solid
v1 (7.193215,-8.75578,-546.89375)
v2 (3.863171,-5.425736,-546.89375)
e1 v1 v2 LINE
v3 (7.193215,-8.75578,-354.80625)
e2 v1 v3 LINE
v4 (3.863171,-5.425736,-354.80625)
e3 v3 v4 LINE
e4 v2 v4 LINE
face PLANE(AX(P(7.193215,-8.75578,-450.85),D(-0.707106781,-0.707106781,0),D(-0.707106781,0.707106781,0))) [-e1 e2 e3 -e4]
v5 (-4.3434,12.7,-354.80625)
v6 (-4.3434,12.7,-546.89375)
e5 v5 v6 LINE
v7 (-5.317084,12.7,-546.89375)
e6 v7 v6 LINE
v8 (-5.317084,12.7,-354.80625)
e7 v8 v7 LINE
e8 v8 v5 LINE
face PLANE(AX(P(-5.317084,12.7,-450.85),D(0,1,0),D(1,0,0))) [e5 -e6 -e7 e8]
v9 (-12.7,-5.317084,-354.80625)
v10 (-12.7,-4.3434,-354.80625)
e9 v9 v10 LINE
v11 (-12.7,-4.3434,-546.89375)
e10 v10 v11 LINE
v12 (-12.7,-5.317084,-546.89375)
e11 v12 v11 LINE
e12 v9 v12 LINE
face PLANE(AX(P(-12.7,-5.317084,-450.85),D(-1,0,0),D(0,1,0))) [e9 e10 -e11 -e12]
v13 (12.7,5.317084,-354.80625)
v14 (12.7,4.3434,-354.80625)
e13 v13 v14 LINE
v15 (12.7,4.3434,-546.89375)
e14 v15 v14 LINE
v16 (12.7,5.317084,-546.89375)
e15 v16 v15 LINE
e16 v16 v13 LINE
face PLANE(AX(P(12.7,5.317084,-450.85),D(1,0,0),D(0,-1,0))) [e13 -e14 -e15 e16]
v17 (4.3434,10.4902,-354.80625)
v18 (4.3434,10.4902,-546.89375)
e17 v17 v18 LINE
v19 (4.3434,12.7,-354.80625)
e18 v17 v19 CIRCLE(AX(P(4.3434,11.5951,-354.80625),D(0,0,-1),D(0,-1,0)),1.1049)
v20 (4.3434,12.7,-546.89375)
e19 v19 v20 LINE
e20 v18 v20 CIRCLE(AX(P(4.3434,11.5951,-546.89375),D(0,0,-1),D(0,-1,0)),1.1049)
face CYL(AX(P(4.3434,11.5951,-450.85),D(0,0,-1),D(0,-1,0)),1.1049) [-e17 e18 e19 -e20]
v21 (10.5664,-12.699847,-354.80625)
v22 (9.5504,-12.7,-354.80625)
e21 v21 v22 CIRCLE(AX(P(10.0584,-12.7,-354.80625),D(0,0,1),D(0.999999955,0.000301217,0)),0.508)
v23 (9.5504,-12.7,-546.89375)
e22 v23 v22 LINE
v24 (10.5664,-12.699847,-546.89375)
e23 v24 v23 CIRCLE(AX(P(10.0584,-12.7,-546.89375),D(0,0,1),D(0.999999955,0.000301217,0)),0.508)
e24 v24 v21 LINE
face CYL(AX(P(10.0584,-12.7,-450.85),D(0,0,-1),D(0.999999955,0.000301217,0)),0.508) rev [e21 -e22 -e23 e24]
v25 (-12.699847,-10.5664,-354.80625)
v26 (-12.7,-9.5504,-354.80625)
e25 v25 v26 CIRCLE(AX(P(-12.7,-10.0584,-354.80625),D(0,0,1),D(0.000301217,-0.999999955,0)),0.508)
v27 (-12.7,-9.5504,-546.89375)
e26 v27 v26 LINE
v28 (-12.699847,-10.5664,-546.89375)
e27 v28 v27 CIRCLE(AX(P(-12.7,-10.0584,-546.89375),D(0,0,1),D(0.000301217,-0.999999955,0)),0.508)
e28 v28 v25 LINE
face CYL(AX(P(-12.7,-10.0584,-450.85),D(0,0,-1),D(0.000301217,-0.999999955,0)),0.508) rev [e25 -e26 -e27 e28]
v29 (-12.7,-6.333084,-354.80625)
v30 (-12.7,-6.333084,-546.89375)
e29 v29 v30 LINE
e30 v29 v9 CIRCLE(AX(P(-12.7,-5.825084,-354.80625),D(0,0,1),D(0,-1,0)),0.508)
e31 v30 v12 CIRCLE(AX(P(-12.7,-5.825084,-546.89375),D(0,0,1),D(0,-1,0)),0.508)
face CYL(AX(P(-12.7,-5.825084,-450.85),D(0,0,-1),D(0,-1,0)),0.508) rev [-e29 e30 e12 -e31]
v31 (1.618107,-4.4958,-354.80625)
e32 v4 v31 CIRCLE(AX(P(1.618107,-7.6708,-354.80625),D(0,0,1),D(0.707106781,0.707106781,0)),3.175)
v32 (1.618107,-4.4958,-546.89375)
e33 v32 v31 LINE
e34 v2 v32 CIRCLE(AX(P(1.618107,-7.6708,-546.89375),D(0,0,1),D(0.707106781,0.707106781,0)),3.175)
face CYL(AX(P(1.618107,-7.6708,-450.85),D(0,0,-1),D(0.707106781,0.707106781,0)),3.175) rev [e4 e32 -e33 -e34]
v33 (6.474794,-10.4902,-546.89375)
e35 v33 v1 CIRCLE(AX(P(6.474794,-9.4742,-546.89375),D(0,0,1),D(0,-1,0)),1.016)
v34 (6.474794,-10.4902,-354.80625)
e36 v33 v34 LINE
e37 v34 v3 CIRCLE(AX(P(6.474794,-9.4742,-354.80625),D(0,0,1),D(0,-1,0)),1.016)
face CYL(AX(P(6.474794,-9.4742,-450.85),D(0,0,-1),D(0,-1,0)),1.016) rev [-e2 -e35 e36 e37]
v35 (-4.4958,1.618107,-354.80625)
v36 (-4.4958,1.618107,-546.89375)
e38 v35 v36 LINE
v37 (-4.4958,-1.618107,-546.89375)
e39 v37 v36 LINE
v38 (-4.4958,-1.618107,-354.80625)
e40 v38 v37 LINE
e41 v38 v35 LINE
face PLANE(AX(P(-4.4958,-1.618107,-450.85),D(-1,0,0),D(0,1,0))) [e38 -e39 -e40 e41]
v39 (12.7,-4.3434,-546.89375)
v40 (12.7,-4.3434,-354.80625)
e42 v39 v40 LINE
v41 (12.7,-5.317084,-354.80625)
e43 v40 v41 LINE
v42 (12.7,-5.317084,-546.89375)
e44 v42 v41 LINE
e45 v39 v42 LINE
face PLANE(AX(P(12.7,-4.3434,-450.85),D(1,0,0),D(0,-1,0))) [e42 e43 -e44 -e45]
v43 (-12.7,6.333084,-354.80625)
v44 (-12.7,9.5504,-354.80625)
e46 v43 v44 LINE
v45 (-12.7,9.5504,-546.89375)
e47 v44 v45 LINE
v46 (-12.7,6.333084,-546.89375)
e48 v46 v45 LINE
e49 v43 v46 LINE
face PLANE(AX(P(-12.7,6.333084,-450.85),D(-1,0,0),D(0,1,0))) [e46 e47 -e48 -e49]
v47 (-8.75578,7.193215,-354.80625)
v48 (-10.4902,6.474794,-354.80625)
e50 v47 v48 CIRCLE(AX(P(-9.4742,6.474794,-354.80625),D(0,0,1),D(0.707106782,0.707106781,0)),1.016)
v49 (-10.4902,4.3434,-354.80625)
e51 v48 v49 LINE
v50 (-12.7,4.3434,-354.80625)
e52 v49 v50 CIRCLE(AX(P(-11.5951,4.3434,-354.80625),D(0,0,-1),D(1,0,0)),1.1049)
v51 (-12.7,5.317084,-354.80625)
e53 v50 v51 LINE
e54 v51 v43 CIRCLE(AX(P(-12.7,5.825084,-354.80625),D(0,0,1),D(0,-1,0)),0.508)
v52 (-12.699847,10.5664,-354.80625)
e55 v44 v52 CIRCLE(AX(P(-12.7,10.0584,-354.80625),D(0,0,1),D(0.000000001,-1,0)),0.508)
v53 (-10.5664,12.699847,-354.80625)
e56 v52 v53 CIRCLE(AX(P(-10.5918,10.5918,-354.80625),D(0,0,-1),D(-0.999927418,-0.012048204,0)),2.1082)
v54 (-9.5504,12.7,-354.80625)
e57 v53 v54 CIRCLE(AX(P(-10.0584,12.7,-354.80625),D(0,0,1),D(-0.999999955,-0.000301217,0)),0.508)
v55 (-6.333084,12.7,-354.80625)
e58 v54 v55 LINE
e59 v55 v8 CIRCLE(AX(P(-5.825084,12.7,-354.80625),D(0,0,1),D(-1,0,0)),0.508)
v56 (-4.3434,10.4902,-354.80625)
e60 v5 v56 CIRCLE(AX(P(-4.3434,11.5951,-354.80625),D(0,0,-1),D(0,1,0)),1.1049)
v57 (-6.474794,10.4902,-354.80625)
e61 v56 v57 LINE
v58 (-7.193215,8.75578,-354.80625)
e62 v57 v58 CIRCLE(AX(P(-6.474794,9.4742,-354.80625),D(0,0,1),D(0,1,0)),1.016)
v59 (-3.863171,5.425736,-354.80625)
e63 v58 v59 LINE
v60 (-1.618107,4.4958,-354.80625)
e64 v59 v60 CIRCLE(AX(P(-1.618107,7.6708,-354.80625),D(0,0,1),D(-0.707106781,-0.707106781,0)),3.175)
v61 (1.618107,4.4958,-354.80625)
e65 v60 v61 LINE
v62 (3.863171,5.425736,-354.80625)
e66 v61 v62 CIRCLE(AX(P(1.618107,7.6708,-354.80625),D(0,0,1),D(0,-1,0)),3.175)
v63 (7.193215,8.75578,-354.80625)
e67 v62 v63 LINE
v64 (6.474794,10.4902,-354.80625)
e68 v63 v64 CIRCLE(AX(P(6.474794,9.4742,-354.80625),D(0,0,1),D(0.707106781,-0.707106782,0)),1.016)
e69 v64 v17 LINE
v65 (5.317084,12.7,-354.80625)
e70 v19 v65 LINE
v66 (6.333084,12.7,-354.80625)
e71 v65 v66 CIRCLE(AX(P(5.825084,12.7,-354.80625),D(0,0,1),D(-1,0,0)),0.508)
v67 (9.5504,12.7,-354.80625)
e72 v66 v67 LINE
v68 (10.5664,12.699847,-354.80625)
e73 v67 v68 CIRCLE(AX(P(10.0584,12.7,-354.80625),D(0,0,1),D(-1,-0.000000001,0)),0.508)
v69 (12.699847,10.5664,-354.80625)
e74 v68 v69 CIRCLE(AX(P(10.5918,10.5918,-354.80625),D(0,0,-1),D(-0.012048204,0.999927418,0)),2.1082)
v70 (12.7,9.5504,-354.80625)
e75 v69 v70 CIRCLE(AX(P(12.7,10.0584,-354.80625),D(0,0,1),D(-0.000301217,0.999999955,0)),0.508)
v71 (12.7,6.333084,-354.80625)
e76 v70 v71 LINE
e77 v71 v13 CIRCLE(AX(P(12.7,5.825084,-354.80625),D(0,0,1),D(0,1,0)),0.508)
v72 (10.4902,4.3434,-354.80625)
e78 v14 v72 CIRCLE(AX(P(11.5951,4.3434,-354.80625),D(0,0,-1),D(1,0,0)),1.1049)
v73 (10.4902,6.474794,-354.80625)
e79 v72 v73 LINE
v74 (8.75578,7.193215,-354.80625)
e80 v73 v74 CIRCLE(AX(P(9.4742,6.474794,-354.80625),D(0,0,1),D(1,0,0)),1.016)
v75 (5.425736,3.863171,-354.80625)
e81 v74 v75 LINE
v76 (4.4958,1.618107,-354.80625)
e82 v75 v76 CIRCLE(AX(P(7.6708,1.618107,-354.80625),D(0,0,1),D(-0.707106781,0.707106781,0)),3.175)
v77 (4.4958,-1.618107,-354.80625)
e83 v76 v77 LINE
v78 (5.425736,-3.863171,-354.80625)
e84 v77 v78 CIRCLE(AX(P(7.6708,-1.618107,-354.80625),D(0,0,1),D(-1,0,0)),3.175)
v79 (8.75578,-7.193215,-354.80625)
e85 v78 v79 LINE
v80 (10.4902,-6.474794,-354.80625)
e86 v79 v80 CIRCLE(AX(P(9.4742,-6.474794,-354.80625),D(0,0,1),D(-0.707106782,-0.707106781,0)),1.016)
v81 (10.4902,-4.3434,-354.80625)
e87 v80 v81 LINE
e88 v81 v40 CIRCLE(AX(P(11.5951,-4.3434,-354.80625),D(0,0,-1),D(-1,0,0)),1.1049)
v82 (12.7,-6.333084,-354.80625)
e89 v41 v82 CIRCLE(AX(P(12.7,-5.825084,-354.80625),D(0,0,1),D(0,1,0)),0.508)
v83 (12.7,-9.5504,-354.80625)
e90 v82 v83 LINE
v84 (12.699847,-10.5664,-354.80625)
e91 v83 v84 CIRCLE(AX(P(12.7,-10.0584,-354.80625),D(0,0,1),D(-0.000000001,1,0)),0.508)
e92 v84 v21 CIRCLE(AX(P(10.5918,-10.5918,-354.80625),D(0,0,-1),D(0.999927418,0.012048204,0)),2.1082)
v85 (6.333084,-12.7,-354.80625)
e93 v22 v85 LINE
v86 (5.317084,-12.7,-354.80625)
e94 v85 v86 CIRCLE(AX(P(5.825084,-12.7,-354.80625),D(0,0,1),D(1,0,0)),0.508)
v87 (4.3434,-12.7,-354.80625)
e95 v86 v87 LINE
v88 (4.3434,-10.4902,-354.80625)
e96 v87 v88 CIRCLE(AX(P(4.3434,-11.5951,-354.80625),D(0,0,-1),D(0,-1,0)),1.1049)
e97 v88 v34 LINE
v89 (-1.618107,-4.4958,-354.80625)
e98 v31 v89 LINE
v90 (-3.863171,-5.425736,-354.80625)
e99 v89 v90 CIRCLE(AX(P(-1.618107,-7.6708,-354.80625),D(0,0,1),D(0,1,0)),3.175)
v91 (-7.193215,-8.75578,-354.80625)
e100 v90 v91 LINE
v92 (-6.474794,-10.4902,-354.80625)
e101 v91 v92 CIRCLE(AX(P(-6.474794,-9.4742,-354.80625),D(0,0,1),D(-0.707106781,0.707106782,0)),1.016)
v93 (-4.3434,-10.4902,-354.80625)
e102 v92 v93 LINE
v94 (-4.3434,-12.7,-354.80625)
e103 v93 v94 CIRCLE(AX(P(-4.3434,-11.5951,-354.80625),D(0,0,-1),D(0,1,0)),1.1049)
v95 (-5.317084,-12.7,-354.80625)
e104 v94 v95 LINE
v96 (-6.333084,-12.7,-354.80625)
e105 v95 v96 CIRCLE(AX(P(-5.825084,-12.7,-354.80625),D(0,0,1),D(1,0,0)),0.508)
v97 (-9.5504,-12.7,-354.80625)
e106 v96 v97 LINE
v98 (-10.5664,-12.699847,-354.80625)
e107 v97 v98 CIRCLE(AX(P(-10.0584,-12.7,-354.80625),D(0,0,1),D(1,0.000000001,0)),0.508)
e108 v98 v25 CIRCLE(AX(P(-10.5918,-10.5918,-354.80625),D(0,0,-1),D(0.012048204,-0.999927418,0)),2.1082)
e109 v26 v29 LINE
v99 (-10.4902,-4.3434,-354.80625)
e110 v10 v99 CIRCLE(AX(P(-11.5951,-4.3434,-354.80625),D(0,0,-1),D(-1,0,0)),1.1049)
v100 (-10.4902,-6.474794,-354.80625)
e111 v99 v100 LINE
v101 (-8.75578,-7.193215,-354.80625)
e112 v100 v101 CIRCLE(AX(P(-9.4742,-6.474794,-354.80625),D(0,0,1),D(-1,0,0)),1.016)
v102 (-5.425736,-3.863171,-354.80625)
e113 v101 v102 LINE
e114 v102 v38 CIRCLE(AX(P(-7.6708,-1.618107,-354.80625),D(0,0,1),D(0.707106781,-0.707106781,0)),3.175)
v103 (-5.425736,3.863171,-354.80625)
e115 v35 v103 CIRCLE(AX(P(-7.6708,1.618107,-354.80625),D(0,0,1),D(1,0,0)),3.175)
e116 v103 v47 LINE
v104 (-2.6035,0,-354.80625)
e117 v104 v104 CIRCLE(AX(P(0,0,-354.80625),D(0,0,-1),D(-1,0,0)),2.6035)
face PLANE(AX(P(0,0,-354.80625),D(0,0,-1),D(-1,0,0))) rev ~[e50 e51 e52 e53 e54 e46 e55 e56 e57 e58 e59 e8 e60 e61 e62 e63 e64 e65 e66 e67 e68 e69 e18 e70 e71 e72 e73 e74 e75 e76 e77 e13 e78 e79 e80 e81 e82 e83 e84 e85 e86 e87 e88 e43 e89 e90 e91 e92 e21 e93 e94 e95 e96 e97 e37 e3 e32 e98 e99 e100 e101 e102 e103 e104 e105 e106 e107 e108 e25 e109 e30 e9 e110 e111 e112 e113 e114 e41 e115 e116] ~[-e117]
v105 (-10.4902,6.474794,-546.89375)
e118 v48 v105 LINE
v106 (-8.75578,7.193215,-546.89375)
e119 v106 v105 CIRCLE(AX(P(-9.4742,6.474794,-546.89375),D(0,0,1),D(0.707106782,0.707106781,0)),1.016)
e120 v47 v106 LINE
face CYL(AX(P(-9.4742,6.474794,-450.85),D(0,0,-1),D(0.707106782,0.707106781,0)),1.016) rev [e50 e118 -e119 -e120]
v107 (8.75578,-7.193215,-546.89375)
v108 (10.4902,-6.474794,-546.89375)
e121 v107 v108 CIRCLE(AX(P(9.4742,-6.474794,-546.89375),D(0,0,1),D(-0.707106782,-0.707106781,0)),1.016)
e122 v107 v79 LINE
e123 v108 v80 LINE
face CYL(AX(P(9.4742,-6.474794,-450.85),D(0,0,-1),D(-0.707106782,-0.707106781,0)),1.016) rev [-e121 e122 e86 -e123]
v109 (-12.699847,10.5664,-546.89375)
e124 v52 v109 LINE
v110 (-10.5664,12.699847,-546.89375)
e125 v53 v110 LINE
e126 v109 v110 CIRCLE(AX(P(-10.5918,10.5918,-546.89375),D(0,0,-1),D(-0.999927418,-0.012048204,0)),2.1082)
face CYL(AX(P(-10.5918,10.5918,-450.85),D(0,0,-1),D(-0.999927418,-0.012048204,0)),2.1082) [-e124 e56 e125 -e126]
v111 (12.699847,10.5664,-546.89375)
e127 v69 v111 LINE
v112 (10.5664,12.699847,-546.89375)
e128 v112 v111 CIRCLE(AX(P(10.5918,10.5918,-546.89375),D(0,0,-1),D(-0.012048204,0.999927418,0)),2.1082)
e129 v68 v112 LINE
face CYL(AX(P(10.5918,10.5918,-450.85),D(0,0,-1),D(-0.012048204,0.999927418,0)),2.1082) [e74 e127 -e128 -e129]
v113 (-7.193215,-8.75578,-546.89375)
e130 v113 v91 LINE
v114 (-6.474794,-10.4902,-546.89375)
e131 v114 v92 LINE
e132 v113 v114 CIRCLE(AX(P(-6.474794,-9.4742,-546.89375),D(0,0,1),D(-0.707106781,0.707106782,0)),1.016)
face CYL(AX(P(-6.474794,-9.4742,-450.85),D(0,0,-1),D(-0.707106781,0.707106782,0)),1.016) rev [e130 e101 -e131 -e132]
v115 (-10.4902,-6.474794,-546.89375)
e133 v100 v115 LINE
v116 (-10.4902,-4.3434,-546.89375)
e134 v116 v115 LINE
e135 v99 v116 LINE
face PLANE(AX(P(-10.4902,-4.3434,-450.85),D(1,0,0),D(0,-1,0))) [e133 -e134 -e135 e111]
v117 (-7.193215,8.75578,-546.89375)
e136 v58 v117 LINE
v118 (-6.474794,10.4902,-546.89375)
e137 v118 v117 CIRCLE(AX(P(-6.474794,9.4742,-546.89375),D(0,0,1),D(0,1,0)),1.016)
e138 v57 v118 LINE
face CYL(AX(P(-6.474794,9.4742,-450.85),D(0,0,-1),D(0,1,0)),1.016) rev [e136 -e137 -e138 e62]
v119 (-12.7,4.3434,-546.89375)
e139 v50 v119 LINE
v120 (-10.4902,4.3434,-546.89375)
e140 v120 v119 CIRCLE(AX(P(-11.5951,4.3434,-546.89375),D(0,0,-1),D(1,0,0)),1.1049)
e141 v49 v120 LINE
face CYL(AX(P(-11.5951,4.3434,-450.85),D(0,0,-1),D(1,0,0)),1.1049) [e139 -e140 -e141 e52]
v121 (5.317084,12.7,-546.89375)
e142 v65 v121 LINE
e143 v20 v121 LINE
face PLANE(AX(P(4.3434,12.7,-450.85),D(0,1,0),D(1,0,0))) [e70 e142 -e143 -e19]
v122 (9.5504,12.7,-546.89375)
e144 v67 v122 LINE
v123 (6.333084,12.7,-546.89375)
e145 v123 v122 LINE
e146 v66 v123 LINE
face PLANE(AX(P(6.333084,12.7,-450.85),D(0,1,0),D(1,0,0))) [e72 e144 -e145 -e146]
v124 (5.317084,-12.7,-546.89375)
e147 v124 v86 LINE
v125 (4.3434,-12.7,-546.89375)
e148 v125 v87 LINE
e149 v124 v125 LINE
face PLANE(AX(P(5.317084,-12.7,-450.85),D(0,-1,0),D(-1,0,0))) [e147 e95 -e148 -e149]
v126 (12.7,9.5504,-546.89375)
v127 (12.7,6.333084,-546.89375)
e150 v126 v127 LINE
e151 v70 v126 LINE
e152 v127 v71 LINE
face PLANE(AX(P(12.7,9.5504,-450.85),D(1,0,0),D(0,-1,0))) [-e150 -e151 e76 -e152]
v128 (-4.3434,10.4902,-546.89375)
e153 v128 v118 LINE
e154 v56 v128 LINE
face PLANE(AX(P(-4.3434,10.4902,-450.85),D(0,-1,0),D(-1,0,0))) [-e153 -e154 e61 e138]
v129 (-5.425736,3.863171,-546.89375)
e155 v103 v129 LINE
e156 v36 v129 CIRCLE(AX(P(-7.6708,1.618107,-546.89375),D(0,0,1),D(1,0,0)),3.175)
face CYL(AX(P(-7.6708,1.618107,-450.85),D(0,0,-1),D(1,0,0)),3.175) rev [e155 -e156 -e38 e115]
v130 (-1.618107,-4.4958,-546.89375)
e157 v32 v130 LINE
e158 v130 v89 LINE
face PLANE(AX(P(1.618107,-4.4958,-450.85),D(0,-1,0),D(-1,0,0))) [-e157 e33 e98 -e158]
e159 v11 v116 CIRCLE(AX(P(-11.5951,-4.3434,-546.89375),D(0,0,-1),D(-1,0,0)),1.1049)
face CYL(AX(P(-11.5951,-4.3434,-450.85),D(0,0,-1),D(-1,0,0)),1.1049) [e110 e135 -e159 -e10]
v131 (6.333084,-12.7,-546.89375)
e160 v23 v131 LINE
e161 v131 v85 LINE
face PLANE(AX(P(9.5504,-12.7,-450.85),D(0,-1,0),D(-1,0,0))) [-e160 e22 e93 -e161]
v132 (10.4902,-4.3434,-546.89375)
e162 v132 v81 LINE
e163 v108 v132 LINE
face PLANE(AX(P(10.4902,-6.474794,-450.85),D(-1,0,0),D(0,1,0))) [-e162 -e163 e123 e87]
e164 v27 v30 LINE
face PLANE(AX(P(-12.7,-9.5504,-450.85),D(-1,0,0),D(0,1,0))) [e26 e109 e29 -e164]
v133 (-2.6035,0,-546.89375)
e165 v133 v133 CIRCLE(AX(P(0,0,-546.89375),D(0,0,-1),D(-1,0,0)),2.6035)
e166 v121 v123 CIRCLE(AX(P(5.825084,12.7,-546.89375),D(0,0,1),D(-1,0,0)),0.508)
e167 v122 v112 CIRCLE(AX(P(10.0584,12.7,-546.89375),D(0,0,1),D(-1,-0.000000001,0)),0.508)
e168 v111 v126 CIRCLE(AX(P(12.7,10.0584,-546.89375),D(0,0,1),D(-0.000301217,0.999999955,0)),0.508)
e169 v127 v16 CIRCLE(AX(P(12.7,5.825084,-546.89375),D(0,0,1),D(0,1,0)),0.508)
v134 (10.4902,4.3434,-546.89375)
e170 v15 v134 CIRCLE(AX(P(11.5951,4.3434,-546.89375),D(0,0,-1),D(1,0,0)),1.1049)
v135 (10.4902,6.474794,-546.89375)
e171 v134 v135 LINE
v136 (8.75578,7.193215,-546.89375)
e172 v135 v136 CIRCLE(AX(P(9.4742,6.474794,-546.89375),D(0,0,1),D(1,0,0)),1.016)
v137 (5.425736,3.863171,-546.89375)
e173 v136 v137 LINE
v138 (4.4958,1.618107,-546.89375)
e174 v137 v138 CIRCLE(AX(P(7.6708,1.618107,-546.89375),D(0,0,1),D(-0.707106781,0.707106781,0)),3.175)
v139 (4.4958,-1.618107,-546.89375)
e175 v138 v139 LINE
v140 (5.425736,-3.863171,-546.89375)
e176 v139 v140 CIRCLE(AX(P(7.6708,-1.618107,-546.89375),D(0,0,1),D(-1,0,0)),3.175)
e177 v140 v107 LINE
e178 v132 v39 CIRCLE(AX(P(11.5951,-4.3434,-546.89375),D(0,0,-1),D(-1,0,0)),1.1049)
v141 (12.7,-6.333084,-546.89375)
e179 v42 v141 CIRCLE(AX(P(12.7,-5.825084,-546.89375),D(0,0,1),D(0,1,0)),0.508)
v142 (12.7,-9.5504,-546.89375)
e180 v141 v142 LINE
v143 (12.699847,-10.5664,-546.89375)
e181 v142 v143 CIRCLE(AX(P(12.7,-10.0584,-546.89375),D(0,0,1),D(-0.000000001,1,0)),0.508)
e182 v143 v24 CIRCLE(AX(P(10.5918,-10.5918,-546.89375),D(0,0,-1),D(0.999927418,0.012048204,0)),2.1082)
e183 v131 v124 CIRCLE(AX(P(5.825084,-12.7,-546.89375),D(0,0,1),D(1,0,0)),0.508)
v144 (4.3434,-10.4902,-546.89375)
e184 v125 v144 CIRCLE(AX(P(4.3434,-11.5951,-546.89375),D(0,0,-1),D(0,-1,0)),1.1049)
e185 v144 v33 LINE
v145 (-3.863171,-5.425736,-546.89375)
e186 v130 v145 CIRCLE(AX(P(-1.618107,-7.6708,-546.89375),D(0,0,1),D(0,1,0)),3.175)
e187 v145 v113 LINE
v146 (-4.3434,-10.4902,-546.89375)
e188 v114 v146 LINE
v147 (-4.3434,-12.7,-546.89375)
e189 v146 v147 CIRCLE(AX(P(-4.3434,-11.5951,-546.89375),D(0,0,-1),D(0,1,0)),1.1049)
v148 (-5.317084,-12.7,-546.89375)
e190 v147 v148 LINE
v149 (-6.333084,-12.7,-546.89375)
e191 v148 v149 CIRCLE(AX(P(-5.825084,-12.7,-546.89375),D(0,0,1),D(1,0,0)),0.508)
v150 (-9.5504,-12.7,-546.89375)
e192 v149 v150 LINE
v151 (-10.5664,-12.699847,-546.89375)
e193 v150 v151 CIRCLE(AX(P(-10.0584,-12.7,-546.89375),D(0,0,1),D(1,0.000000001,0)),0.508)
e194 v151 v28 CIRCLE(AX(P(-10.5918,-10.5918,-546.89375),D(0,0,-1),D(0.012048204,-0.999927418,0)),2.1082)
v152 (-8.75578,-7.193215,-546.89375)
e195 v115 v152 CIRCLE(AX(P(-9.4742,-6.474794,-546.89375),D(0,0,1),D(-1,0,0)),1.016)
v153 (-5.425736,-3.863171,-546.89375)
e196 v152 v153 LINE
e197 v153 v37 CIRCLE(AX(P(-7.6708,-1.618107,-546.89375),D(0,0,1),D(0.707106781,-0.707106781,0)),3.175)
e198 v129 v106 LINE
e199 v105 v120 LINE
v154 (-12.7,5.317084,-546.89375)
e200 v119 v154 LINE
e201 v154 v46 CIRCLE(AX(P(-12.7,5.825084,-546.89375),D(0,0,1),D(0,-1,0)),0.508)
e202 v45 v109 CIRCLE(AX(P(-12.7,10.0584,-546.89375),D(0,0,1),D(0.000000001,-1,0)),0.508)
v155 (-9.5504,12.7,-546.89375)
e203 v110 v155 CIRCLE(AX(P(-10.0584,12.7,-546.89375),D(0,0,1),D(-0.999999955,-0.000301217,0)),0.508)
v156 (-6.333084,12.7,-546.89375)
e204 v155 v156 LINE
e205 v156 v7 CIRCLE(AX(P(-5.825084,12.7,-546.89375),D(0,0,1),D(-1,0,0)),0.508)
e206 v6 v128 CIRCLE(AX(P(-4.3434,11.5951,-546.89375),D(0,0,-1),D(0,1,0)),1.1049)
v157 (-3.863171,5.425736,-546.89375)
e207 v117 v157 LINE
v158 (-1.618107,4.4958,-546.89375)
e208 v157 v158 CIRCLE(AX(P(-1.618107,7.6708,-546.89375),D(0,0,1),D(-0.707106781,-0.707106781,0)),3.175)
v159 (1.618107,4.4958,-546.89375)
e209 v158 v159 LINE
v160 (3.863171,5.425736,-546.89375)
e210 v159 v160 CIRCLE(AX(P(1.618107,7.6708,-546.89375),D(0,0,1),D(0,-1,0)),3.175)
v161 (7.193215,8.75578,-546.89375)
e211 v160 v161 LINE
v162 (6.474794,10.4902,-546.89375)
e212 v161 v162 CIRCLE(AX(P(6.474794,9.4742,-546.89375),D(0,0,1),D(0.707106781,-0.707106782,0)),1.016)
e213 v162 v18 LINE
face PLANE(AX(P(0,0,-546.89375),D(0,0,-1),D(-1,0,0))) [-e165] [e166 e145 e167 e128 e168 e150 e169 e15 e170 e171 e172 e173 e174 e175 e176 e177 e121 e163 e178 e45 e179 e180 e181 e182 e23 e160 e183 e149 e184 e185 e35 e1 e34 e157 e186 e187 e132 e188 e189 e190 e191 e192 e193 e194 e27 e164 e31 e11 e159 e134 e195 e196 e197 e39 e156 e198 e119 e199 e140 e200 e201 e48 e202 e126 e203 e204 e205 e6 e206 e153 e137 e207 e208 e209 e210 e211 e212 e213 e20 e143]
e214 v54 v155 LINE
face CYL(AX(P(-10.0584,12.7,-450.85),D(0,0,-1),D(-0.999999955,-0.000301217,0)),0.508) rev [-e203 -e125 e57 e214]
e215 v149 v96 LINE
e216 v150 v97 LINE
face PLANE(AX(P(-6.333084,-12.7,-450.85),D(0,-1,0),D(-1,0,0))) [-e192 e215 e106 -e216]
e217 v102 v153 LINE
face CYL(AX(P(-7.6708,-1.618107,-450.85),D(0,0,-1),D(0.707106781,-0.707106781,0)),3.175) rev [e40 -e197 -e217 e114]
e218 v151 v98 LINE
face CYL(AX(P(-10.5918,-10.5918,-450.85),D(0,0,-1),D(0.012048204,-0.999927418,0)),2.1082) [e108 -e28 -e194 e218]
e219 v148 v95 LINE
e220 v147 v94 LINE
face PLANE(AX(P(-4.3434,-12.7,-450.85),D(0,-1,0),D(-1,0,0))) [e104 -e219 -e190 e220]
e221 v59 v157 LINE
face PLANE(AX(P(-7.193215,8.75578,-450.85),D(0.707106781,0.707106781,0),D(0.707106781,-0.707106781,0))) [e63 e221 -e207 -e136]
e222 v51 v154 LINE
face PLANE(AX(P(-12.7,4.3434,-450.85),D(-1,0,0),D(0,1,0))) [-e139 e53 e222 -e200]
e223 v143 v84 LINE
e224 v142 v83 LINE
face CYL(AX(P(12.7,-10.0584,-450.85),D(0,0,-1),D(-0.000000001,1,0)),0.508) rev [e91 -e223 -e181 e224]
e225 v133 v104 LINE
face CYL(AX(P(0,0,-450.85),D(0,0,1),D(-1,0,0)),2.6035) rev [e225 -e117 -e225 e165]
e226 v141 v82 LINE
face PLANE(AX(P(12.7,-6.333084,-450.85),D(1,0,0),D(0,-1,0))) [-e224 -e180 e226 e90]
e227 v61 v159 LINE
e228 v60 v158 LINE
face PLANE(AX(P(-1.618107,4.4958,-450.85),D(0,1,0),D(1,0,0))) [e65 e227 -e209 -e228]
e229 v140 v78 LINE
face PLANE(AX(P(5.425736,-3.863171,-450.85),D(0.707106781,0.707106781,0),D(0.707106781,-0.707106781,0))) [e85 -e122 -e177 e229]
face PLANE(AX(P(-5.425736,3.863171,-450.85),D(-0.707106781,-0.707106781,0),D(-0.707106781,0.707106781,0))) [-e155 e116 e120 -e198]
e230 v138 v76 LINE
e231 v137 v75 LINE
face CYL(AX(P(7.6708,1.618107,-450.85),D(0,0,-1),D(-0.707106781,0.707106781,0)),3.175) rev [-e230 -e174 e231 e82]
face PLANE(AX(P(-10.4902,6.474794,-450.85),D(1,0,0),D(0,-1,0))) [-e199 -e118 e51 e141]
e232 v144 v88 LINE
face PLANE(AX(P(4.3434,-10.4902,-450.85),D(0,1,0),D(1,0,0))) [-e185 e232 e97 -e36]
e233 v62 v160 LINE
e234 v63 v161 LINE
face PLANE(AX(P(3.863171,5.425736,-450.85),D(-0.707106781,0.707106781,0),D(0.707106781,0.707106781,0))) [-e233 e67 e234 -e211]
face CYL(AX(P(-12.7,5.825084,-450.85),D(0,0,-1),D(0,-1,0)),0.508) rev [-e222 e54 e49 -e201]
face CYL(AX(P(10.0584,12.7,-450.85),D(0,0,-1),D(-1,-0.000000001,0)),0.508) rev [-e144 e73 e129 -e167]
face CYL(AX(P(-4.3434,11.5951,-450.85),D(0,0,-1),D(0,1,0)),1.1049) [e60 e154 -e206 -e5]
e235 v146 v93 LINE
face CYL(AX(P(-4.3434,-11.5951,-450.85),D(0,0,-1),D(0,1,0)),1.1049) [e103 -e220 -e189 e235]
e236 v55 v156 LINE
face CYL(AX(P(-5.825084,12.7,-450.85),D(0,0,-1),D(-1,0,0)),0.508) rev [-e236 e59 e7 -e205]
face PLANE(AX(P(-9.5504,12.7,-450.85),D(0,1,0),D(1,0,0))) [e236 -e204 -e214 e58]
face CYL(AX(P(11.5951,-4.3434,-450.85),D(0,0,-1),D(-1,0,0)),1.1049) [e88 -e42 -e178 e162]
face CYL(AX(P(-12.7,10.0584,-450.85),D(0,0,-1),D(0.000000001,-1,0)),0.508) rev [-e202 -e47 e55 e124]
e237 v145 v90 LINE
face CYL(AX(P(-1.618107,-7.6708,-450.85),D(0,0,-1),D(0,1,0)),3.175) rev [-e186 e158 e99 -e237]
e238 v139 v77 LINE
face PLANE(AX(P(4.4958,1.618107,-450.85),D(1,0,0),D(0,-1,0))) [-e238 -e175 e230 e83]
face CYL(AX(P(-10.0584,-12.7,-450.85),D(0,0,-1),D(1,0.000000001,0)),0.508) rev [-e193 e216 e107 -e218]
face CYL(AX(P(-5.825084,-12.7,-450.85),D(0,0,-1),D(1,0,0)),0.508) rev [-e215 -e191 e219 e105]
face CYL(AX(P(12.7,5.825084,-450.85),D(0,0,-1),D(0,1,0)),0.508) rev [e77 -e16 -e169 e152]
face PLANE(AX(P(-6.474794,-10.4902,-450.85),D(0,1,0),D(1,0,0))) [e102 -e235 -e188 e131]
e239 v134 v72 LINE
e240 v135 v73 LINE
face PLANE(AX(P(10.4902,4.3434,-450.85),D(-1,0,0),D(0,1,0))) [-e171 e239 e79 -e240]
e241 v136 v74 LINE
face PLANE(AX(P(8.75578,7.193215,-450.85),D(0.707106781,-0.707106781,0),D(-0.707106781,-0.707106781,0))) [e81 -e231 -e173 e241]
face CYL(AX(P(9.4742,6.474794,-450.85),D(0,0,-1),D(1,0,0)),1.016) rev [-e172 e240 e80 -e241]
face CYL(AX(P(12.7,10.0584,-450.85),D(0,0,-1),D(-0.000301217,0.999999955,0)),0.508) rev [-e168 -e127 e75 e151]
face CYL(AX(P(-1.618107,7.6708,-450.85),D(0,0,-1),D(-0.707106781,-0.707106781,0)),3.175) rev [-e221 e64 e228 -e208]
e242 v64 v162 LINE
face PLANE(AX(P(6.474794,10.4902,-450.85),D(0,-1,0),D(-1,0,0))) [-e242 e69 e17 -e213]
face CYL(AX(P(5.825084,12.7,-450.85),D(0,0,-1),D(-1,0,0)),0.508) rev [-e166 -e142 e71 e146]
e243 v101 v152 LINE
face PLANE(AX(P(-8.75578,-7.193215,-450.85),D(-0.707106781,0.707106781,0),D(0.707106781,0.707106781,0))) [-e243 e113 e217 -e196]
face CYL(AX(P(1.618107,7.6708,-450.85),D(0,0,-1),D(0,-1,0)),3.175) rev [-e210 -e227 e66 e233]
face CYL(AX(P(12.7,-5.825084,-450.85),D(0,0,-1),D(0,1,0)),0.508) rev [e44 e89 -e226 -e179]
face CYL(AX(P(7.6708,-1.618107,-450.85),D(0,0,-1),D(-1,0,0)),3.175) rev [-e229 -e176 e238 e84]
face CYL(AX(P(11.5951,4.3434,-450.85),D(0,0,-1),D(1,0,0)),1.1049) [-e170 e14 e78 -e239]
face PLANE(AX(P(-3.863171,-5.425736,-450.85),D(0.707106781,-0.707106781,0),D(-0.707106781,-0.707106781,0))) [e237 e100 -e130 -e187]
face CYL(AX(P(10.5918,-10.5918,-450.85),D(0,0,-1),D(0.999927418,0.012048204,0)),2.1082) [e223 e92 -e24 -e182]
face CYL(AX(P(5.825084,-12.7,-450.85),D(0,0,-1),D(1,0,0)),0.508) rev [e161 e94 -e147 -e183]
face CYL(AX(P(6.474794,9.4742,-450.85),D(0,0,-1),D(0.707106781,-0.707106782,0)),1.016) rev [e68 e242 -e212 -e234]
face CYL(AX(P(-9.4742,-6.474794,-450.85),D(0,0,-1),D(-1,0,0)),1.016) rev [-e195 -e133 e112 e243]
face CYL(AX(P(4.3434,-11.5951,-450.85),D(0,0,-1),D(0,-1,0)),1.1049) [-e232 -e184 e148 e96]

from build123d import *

# Parameters (mm, degrees)
SKETCH1_R           = 2.6035
BOSS_EXTRUDE1_DEPTH = 96.04375


with BuildPart() as part:
    # Sketch1 → Boss-Extrude1 (new body, symmetric)
    with BuildSketch(Plane(origin=(0, 0, -450.85), x_dir=(-1, 0, 0), z_dir=(0, 0, -1))):
        with BuildLine():
            Line((12.7, -9.5504), (12.7, -6.3330836))
            ThreePointArc((12.7, -6.3330836), (12.192, -5.8250836), (12.7, -5.3170836))
            Line((12.7, -5.3170836), (12.7, -4.3434))
            ThreePointArc((12.7, -4.3434), (11.5951, -3.2385), (10.4902, -4.3434))
            Line((10.4902, -4.3434), (10.4902, -6.474794456))
            ThreePointArc((10.4902, -6.474794456), (9.863006367, -7.413456061), (8.75577951, -7.193214945))
            Line((8.75577951, -7.193214945), (5.42573597, -3.863171405))
            ThreePointArc((5.42573597, -3.863171405), (4.737482484, -2.833127272), (4.4958, -1.618107374))
            Line((4.4958, -1.618107374), (4.4958, 1.618107374))
            ThreePointArc((4.4958, 1.618107374), (4.737482484, 2.833127272), (5.42573597, 3.863171405))
            Line((5.42573597, 3.863171405), (8.75577951, 7.193214945))
            ThreePointArc((8.75577951, 7.193214945), (9.863006367, 7.413456061), (10.4902, 6.474794456))
            Line((10.4902, 6.474794456), (10.4902, 4.343399971))
            ThreePointArc((10.4902, 4.343399971), (11.5951, 3.238499971), (12.7, 4.343399971))
            Line((12.7, 4.343399971), (12.7, 5.3170836))
            ThreePointArc((12.7, 5.3170836), (12.192, 5.8250836), (12.7, 6.3330836))
            Line((12.7, 6.3330836), (12.7, 9.5504))
            ThreePointArc((12.7, 9.5504), (12.192000006, 10.058323491), (12.699846982, 10.566399977))
            ThreePointArc((12.699846982, 10.566399977), (12.082522516, 12.082522516), (10.566399977, 12.699846982))
            ThreePointArc((10.566399977, 12.699846982), (10.058323491, 12.192000006), (9.5504, 12.7))
            Line((9.5504, 12.7), (6.3330836, 12.7))
            ThreePointArc((6.3330836, 12.7), (5.8250836, 12.192), (5.3170836, 12.7))
            Line((5.3170836, 12.7), (4.3434, 12.7))
            ThreePointArc((4.3434, 12.7), (3.2385, 11.5951), (4.3434, 10.4902))
            Line((4.3434, 10.4902), (6.474794456, 10.4902))
            ThreePointArc((6.474794456, 10.4902), (7.413456061, 9.863006367), (7.193214945, 8.75577951))
            Line((7.193214945, 8.75577951), (3.863171405, 5.42573597))
            ThreePointArc((3.863171405, 5.42573597), (2.833127272, 4.737482484), (1.618107374, 4.4958))
            Line((1.618107374, 4.4958), (-1.618107374, 4.4958))
            ThreePointArc((-1.618107374, 4.4958), (-2.833127272, 4.737482484), (-3.863171405, 5.42573597))
            Line((-3.863171405, 5.42573597), (-7.193214945, 8.75577951))
            ThreePointArc((-7.193214945, 8.75577951), (-7.413456061, 9.863006367), (-6.474794456, 10.4902))
            Line((-6.474794456, 10.4902), (-4.343399971, 10.4902))
            ThreePointArc((-4.343399971, 10.4902), (-3.238499971, 11.5951), (-4.343399971, 12.7))
            Line((-4.343399971, 12.7), (-5.3170836, 12.7))
            ThreePointArc((-5.3170836, 12.7), (-5.8250836, 12.192), (-6.3330836, 12.7))
            Line((-6.3330836, 12.7), (-9.5504, 12.7))
            ThreePointArc((-9.5504, 12.7), (-10.058323491, 12.192000006), (-10.566399977, 12.699846982))
            ThreePointArc((-10.566399977, 12.699846982), (-12.082522516, 12.082522516), (-12.699846982, 10.566399977))
            ThreePointArc((-12.699846982, 10.566399977), (-12.192000006, 10.058323491), (-12.7, 9.5504))
            Line((-12.7, 9.5504), (-12.7, 6.3330836))
            ThreePointArc((-12.7, 6.3330836), (-12.192, 5.8250836), (-12.7, 5.3170836))
            Line((-12.7, 5.3170836), (-12.7, 4.3434))
            ThreePointArc((-12.7, 4.3434), (-11.5951, 3.2385), (-10.4902, 4.3434))
            Line((-10.4902, 4.3434), (-10.4902, 6.474794456))
            ThreePointArc((-10.4902, 6.474794456), (-9.863006367, 7.413456061), (-8.75577951, 7.193214945))
            Line((-8.75577951, 7.193214945), (-5.42573597, 3.863171405))
            ThreePointArc((-5.42573597, 3.863171405), (-4.737482484, 2.833127272), (-4.4958, 1.618107374))
            Line((-4.4958, 1.618107374), (-4.4958, -1.618107374))
            ThreePointArc((-4.4958, -1.618107374), (-4.737482484, -2.833127272), (-5.42573597, -3.863171405))
            Line((-5.42573597, -3.863171405), (-8.75577951, -7.193214945))
            ThreePointArc((-8.75577951, -7.193214945), (-9.863006367, -7.413456061), (-10.4902, -6.474794456))
            Line((-10.4902, -6.474794456), (-10.4902, -4.343399971))
            ThreePointArc((-10.4902, -4.343399971), (-11.5951, -3.238499971), (-12.7, -4.343399971))
            Line((-12.7, -4.343399971), (-12.7, -5.3170836))
            ThreePointArc((-12.7, -5.3170836), (-12.192, -5.8250836), (-12.7, -6.3330836))
            Line((-12.7, -6.3330836), (-12.7, -9.5504))
            ThreePointArc((-12.7, -9.5504), (-12.192000006, -10.058323491), (-12.699846982, -10.566399977))
            ThreePointArc((-12.699846982, -10.566399977), (-12.082522516, -12.082522516), (-10.566399977, -12.699846982))
            ThreePointArc((-10.566399977, -12.699846982), (-10.058323491, -12.192000006), (-9.5504, -12.7))
            Line((-9.5504, -12.7), (-6.3330836, -12.7))
            ThreePointArc((-6.3330836, -12.7), (-5.8250836, -12.192), (-5.3170836, -12.7))
            Line((-5.3170836, -12.7), (-4.3434, -12.7))
            ThreePointArc((-4.3434, -12.7), (-3.2385, -11.5951), (-4.3434, -10.4902))
            Line((-4.3434, -10.4902), (-6.474794456, -10.4902))
            ThreePointArc((-6.474794456, -10.4902), (-7.413456061, -9.863006367), (-7.193214945, -8.75577951))
            Line((-7.193214945, -8.75577951), (-3.863171405, -5.42573597))
            ThreePointArc((-3.863171405, -5.42573597), (-2.833127272, -4.737482484), (-1.618107374, -4.4958))
            Line((-1.618107374, -4.4958), (1.618107374, -4.4958))
            ThreePointArc((1.618107374, -4.4958), (2.833127272, -4.737482484), (3.863171405, -5.42573597))
            Line((3.863171405, -5.42573597), (7.193214945, -8.75577951))
            ThreePointArc((7.193214945, -8.75577951), (7.413456061, -9.863006367), (6.474794456, -10.4902))
            Line((6.474794456, -10.4902), (4.343399971, -10.4902))
            ThreePointArc((4.343399971, -10.4902), (3.238499971, -11.5951), (4.343399971, -12.7))
            Line((4.343399971, -12.7), (5.3170836, -12.7))
            ThreePointArc((5.3170836, -12.7), (5.8250836, -12.192), (6.3330836, -12.7))
            Line((6.3330836, -12.7), (9.5504, -12.7))
            ThreePointArc((9.5504, -12.7), (10.058323491, -12.192000006), (10.566399977, -12.699846982))
            ThreePointArc((10.566399977, -12.699846982), (12.082522516, -12.082522516), (12.699846982, -10.566399977))
            ThreePointArc((12.699846982, -10.566399977), (12.192000006, -10.058323491), (12.7, -9.5504))
        make_face()
        Circle(SKETCH1_R, mode=Mode.SUBTRACT)
    extrude(amount=BOSS_EXTRUDE1_DEPTH, both=True)


solid = part.part
